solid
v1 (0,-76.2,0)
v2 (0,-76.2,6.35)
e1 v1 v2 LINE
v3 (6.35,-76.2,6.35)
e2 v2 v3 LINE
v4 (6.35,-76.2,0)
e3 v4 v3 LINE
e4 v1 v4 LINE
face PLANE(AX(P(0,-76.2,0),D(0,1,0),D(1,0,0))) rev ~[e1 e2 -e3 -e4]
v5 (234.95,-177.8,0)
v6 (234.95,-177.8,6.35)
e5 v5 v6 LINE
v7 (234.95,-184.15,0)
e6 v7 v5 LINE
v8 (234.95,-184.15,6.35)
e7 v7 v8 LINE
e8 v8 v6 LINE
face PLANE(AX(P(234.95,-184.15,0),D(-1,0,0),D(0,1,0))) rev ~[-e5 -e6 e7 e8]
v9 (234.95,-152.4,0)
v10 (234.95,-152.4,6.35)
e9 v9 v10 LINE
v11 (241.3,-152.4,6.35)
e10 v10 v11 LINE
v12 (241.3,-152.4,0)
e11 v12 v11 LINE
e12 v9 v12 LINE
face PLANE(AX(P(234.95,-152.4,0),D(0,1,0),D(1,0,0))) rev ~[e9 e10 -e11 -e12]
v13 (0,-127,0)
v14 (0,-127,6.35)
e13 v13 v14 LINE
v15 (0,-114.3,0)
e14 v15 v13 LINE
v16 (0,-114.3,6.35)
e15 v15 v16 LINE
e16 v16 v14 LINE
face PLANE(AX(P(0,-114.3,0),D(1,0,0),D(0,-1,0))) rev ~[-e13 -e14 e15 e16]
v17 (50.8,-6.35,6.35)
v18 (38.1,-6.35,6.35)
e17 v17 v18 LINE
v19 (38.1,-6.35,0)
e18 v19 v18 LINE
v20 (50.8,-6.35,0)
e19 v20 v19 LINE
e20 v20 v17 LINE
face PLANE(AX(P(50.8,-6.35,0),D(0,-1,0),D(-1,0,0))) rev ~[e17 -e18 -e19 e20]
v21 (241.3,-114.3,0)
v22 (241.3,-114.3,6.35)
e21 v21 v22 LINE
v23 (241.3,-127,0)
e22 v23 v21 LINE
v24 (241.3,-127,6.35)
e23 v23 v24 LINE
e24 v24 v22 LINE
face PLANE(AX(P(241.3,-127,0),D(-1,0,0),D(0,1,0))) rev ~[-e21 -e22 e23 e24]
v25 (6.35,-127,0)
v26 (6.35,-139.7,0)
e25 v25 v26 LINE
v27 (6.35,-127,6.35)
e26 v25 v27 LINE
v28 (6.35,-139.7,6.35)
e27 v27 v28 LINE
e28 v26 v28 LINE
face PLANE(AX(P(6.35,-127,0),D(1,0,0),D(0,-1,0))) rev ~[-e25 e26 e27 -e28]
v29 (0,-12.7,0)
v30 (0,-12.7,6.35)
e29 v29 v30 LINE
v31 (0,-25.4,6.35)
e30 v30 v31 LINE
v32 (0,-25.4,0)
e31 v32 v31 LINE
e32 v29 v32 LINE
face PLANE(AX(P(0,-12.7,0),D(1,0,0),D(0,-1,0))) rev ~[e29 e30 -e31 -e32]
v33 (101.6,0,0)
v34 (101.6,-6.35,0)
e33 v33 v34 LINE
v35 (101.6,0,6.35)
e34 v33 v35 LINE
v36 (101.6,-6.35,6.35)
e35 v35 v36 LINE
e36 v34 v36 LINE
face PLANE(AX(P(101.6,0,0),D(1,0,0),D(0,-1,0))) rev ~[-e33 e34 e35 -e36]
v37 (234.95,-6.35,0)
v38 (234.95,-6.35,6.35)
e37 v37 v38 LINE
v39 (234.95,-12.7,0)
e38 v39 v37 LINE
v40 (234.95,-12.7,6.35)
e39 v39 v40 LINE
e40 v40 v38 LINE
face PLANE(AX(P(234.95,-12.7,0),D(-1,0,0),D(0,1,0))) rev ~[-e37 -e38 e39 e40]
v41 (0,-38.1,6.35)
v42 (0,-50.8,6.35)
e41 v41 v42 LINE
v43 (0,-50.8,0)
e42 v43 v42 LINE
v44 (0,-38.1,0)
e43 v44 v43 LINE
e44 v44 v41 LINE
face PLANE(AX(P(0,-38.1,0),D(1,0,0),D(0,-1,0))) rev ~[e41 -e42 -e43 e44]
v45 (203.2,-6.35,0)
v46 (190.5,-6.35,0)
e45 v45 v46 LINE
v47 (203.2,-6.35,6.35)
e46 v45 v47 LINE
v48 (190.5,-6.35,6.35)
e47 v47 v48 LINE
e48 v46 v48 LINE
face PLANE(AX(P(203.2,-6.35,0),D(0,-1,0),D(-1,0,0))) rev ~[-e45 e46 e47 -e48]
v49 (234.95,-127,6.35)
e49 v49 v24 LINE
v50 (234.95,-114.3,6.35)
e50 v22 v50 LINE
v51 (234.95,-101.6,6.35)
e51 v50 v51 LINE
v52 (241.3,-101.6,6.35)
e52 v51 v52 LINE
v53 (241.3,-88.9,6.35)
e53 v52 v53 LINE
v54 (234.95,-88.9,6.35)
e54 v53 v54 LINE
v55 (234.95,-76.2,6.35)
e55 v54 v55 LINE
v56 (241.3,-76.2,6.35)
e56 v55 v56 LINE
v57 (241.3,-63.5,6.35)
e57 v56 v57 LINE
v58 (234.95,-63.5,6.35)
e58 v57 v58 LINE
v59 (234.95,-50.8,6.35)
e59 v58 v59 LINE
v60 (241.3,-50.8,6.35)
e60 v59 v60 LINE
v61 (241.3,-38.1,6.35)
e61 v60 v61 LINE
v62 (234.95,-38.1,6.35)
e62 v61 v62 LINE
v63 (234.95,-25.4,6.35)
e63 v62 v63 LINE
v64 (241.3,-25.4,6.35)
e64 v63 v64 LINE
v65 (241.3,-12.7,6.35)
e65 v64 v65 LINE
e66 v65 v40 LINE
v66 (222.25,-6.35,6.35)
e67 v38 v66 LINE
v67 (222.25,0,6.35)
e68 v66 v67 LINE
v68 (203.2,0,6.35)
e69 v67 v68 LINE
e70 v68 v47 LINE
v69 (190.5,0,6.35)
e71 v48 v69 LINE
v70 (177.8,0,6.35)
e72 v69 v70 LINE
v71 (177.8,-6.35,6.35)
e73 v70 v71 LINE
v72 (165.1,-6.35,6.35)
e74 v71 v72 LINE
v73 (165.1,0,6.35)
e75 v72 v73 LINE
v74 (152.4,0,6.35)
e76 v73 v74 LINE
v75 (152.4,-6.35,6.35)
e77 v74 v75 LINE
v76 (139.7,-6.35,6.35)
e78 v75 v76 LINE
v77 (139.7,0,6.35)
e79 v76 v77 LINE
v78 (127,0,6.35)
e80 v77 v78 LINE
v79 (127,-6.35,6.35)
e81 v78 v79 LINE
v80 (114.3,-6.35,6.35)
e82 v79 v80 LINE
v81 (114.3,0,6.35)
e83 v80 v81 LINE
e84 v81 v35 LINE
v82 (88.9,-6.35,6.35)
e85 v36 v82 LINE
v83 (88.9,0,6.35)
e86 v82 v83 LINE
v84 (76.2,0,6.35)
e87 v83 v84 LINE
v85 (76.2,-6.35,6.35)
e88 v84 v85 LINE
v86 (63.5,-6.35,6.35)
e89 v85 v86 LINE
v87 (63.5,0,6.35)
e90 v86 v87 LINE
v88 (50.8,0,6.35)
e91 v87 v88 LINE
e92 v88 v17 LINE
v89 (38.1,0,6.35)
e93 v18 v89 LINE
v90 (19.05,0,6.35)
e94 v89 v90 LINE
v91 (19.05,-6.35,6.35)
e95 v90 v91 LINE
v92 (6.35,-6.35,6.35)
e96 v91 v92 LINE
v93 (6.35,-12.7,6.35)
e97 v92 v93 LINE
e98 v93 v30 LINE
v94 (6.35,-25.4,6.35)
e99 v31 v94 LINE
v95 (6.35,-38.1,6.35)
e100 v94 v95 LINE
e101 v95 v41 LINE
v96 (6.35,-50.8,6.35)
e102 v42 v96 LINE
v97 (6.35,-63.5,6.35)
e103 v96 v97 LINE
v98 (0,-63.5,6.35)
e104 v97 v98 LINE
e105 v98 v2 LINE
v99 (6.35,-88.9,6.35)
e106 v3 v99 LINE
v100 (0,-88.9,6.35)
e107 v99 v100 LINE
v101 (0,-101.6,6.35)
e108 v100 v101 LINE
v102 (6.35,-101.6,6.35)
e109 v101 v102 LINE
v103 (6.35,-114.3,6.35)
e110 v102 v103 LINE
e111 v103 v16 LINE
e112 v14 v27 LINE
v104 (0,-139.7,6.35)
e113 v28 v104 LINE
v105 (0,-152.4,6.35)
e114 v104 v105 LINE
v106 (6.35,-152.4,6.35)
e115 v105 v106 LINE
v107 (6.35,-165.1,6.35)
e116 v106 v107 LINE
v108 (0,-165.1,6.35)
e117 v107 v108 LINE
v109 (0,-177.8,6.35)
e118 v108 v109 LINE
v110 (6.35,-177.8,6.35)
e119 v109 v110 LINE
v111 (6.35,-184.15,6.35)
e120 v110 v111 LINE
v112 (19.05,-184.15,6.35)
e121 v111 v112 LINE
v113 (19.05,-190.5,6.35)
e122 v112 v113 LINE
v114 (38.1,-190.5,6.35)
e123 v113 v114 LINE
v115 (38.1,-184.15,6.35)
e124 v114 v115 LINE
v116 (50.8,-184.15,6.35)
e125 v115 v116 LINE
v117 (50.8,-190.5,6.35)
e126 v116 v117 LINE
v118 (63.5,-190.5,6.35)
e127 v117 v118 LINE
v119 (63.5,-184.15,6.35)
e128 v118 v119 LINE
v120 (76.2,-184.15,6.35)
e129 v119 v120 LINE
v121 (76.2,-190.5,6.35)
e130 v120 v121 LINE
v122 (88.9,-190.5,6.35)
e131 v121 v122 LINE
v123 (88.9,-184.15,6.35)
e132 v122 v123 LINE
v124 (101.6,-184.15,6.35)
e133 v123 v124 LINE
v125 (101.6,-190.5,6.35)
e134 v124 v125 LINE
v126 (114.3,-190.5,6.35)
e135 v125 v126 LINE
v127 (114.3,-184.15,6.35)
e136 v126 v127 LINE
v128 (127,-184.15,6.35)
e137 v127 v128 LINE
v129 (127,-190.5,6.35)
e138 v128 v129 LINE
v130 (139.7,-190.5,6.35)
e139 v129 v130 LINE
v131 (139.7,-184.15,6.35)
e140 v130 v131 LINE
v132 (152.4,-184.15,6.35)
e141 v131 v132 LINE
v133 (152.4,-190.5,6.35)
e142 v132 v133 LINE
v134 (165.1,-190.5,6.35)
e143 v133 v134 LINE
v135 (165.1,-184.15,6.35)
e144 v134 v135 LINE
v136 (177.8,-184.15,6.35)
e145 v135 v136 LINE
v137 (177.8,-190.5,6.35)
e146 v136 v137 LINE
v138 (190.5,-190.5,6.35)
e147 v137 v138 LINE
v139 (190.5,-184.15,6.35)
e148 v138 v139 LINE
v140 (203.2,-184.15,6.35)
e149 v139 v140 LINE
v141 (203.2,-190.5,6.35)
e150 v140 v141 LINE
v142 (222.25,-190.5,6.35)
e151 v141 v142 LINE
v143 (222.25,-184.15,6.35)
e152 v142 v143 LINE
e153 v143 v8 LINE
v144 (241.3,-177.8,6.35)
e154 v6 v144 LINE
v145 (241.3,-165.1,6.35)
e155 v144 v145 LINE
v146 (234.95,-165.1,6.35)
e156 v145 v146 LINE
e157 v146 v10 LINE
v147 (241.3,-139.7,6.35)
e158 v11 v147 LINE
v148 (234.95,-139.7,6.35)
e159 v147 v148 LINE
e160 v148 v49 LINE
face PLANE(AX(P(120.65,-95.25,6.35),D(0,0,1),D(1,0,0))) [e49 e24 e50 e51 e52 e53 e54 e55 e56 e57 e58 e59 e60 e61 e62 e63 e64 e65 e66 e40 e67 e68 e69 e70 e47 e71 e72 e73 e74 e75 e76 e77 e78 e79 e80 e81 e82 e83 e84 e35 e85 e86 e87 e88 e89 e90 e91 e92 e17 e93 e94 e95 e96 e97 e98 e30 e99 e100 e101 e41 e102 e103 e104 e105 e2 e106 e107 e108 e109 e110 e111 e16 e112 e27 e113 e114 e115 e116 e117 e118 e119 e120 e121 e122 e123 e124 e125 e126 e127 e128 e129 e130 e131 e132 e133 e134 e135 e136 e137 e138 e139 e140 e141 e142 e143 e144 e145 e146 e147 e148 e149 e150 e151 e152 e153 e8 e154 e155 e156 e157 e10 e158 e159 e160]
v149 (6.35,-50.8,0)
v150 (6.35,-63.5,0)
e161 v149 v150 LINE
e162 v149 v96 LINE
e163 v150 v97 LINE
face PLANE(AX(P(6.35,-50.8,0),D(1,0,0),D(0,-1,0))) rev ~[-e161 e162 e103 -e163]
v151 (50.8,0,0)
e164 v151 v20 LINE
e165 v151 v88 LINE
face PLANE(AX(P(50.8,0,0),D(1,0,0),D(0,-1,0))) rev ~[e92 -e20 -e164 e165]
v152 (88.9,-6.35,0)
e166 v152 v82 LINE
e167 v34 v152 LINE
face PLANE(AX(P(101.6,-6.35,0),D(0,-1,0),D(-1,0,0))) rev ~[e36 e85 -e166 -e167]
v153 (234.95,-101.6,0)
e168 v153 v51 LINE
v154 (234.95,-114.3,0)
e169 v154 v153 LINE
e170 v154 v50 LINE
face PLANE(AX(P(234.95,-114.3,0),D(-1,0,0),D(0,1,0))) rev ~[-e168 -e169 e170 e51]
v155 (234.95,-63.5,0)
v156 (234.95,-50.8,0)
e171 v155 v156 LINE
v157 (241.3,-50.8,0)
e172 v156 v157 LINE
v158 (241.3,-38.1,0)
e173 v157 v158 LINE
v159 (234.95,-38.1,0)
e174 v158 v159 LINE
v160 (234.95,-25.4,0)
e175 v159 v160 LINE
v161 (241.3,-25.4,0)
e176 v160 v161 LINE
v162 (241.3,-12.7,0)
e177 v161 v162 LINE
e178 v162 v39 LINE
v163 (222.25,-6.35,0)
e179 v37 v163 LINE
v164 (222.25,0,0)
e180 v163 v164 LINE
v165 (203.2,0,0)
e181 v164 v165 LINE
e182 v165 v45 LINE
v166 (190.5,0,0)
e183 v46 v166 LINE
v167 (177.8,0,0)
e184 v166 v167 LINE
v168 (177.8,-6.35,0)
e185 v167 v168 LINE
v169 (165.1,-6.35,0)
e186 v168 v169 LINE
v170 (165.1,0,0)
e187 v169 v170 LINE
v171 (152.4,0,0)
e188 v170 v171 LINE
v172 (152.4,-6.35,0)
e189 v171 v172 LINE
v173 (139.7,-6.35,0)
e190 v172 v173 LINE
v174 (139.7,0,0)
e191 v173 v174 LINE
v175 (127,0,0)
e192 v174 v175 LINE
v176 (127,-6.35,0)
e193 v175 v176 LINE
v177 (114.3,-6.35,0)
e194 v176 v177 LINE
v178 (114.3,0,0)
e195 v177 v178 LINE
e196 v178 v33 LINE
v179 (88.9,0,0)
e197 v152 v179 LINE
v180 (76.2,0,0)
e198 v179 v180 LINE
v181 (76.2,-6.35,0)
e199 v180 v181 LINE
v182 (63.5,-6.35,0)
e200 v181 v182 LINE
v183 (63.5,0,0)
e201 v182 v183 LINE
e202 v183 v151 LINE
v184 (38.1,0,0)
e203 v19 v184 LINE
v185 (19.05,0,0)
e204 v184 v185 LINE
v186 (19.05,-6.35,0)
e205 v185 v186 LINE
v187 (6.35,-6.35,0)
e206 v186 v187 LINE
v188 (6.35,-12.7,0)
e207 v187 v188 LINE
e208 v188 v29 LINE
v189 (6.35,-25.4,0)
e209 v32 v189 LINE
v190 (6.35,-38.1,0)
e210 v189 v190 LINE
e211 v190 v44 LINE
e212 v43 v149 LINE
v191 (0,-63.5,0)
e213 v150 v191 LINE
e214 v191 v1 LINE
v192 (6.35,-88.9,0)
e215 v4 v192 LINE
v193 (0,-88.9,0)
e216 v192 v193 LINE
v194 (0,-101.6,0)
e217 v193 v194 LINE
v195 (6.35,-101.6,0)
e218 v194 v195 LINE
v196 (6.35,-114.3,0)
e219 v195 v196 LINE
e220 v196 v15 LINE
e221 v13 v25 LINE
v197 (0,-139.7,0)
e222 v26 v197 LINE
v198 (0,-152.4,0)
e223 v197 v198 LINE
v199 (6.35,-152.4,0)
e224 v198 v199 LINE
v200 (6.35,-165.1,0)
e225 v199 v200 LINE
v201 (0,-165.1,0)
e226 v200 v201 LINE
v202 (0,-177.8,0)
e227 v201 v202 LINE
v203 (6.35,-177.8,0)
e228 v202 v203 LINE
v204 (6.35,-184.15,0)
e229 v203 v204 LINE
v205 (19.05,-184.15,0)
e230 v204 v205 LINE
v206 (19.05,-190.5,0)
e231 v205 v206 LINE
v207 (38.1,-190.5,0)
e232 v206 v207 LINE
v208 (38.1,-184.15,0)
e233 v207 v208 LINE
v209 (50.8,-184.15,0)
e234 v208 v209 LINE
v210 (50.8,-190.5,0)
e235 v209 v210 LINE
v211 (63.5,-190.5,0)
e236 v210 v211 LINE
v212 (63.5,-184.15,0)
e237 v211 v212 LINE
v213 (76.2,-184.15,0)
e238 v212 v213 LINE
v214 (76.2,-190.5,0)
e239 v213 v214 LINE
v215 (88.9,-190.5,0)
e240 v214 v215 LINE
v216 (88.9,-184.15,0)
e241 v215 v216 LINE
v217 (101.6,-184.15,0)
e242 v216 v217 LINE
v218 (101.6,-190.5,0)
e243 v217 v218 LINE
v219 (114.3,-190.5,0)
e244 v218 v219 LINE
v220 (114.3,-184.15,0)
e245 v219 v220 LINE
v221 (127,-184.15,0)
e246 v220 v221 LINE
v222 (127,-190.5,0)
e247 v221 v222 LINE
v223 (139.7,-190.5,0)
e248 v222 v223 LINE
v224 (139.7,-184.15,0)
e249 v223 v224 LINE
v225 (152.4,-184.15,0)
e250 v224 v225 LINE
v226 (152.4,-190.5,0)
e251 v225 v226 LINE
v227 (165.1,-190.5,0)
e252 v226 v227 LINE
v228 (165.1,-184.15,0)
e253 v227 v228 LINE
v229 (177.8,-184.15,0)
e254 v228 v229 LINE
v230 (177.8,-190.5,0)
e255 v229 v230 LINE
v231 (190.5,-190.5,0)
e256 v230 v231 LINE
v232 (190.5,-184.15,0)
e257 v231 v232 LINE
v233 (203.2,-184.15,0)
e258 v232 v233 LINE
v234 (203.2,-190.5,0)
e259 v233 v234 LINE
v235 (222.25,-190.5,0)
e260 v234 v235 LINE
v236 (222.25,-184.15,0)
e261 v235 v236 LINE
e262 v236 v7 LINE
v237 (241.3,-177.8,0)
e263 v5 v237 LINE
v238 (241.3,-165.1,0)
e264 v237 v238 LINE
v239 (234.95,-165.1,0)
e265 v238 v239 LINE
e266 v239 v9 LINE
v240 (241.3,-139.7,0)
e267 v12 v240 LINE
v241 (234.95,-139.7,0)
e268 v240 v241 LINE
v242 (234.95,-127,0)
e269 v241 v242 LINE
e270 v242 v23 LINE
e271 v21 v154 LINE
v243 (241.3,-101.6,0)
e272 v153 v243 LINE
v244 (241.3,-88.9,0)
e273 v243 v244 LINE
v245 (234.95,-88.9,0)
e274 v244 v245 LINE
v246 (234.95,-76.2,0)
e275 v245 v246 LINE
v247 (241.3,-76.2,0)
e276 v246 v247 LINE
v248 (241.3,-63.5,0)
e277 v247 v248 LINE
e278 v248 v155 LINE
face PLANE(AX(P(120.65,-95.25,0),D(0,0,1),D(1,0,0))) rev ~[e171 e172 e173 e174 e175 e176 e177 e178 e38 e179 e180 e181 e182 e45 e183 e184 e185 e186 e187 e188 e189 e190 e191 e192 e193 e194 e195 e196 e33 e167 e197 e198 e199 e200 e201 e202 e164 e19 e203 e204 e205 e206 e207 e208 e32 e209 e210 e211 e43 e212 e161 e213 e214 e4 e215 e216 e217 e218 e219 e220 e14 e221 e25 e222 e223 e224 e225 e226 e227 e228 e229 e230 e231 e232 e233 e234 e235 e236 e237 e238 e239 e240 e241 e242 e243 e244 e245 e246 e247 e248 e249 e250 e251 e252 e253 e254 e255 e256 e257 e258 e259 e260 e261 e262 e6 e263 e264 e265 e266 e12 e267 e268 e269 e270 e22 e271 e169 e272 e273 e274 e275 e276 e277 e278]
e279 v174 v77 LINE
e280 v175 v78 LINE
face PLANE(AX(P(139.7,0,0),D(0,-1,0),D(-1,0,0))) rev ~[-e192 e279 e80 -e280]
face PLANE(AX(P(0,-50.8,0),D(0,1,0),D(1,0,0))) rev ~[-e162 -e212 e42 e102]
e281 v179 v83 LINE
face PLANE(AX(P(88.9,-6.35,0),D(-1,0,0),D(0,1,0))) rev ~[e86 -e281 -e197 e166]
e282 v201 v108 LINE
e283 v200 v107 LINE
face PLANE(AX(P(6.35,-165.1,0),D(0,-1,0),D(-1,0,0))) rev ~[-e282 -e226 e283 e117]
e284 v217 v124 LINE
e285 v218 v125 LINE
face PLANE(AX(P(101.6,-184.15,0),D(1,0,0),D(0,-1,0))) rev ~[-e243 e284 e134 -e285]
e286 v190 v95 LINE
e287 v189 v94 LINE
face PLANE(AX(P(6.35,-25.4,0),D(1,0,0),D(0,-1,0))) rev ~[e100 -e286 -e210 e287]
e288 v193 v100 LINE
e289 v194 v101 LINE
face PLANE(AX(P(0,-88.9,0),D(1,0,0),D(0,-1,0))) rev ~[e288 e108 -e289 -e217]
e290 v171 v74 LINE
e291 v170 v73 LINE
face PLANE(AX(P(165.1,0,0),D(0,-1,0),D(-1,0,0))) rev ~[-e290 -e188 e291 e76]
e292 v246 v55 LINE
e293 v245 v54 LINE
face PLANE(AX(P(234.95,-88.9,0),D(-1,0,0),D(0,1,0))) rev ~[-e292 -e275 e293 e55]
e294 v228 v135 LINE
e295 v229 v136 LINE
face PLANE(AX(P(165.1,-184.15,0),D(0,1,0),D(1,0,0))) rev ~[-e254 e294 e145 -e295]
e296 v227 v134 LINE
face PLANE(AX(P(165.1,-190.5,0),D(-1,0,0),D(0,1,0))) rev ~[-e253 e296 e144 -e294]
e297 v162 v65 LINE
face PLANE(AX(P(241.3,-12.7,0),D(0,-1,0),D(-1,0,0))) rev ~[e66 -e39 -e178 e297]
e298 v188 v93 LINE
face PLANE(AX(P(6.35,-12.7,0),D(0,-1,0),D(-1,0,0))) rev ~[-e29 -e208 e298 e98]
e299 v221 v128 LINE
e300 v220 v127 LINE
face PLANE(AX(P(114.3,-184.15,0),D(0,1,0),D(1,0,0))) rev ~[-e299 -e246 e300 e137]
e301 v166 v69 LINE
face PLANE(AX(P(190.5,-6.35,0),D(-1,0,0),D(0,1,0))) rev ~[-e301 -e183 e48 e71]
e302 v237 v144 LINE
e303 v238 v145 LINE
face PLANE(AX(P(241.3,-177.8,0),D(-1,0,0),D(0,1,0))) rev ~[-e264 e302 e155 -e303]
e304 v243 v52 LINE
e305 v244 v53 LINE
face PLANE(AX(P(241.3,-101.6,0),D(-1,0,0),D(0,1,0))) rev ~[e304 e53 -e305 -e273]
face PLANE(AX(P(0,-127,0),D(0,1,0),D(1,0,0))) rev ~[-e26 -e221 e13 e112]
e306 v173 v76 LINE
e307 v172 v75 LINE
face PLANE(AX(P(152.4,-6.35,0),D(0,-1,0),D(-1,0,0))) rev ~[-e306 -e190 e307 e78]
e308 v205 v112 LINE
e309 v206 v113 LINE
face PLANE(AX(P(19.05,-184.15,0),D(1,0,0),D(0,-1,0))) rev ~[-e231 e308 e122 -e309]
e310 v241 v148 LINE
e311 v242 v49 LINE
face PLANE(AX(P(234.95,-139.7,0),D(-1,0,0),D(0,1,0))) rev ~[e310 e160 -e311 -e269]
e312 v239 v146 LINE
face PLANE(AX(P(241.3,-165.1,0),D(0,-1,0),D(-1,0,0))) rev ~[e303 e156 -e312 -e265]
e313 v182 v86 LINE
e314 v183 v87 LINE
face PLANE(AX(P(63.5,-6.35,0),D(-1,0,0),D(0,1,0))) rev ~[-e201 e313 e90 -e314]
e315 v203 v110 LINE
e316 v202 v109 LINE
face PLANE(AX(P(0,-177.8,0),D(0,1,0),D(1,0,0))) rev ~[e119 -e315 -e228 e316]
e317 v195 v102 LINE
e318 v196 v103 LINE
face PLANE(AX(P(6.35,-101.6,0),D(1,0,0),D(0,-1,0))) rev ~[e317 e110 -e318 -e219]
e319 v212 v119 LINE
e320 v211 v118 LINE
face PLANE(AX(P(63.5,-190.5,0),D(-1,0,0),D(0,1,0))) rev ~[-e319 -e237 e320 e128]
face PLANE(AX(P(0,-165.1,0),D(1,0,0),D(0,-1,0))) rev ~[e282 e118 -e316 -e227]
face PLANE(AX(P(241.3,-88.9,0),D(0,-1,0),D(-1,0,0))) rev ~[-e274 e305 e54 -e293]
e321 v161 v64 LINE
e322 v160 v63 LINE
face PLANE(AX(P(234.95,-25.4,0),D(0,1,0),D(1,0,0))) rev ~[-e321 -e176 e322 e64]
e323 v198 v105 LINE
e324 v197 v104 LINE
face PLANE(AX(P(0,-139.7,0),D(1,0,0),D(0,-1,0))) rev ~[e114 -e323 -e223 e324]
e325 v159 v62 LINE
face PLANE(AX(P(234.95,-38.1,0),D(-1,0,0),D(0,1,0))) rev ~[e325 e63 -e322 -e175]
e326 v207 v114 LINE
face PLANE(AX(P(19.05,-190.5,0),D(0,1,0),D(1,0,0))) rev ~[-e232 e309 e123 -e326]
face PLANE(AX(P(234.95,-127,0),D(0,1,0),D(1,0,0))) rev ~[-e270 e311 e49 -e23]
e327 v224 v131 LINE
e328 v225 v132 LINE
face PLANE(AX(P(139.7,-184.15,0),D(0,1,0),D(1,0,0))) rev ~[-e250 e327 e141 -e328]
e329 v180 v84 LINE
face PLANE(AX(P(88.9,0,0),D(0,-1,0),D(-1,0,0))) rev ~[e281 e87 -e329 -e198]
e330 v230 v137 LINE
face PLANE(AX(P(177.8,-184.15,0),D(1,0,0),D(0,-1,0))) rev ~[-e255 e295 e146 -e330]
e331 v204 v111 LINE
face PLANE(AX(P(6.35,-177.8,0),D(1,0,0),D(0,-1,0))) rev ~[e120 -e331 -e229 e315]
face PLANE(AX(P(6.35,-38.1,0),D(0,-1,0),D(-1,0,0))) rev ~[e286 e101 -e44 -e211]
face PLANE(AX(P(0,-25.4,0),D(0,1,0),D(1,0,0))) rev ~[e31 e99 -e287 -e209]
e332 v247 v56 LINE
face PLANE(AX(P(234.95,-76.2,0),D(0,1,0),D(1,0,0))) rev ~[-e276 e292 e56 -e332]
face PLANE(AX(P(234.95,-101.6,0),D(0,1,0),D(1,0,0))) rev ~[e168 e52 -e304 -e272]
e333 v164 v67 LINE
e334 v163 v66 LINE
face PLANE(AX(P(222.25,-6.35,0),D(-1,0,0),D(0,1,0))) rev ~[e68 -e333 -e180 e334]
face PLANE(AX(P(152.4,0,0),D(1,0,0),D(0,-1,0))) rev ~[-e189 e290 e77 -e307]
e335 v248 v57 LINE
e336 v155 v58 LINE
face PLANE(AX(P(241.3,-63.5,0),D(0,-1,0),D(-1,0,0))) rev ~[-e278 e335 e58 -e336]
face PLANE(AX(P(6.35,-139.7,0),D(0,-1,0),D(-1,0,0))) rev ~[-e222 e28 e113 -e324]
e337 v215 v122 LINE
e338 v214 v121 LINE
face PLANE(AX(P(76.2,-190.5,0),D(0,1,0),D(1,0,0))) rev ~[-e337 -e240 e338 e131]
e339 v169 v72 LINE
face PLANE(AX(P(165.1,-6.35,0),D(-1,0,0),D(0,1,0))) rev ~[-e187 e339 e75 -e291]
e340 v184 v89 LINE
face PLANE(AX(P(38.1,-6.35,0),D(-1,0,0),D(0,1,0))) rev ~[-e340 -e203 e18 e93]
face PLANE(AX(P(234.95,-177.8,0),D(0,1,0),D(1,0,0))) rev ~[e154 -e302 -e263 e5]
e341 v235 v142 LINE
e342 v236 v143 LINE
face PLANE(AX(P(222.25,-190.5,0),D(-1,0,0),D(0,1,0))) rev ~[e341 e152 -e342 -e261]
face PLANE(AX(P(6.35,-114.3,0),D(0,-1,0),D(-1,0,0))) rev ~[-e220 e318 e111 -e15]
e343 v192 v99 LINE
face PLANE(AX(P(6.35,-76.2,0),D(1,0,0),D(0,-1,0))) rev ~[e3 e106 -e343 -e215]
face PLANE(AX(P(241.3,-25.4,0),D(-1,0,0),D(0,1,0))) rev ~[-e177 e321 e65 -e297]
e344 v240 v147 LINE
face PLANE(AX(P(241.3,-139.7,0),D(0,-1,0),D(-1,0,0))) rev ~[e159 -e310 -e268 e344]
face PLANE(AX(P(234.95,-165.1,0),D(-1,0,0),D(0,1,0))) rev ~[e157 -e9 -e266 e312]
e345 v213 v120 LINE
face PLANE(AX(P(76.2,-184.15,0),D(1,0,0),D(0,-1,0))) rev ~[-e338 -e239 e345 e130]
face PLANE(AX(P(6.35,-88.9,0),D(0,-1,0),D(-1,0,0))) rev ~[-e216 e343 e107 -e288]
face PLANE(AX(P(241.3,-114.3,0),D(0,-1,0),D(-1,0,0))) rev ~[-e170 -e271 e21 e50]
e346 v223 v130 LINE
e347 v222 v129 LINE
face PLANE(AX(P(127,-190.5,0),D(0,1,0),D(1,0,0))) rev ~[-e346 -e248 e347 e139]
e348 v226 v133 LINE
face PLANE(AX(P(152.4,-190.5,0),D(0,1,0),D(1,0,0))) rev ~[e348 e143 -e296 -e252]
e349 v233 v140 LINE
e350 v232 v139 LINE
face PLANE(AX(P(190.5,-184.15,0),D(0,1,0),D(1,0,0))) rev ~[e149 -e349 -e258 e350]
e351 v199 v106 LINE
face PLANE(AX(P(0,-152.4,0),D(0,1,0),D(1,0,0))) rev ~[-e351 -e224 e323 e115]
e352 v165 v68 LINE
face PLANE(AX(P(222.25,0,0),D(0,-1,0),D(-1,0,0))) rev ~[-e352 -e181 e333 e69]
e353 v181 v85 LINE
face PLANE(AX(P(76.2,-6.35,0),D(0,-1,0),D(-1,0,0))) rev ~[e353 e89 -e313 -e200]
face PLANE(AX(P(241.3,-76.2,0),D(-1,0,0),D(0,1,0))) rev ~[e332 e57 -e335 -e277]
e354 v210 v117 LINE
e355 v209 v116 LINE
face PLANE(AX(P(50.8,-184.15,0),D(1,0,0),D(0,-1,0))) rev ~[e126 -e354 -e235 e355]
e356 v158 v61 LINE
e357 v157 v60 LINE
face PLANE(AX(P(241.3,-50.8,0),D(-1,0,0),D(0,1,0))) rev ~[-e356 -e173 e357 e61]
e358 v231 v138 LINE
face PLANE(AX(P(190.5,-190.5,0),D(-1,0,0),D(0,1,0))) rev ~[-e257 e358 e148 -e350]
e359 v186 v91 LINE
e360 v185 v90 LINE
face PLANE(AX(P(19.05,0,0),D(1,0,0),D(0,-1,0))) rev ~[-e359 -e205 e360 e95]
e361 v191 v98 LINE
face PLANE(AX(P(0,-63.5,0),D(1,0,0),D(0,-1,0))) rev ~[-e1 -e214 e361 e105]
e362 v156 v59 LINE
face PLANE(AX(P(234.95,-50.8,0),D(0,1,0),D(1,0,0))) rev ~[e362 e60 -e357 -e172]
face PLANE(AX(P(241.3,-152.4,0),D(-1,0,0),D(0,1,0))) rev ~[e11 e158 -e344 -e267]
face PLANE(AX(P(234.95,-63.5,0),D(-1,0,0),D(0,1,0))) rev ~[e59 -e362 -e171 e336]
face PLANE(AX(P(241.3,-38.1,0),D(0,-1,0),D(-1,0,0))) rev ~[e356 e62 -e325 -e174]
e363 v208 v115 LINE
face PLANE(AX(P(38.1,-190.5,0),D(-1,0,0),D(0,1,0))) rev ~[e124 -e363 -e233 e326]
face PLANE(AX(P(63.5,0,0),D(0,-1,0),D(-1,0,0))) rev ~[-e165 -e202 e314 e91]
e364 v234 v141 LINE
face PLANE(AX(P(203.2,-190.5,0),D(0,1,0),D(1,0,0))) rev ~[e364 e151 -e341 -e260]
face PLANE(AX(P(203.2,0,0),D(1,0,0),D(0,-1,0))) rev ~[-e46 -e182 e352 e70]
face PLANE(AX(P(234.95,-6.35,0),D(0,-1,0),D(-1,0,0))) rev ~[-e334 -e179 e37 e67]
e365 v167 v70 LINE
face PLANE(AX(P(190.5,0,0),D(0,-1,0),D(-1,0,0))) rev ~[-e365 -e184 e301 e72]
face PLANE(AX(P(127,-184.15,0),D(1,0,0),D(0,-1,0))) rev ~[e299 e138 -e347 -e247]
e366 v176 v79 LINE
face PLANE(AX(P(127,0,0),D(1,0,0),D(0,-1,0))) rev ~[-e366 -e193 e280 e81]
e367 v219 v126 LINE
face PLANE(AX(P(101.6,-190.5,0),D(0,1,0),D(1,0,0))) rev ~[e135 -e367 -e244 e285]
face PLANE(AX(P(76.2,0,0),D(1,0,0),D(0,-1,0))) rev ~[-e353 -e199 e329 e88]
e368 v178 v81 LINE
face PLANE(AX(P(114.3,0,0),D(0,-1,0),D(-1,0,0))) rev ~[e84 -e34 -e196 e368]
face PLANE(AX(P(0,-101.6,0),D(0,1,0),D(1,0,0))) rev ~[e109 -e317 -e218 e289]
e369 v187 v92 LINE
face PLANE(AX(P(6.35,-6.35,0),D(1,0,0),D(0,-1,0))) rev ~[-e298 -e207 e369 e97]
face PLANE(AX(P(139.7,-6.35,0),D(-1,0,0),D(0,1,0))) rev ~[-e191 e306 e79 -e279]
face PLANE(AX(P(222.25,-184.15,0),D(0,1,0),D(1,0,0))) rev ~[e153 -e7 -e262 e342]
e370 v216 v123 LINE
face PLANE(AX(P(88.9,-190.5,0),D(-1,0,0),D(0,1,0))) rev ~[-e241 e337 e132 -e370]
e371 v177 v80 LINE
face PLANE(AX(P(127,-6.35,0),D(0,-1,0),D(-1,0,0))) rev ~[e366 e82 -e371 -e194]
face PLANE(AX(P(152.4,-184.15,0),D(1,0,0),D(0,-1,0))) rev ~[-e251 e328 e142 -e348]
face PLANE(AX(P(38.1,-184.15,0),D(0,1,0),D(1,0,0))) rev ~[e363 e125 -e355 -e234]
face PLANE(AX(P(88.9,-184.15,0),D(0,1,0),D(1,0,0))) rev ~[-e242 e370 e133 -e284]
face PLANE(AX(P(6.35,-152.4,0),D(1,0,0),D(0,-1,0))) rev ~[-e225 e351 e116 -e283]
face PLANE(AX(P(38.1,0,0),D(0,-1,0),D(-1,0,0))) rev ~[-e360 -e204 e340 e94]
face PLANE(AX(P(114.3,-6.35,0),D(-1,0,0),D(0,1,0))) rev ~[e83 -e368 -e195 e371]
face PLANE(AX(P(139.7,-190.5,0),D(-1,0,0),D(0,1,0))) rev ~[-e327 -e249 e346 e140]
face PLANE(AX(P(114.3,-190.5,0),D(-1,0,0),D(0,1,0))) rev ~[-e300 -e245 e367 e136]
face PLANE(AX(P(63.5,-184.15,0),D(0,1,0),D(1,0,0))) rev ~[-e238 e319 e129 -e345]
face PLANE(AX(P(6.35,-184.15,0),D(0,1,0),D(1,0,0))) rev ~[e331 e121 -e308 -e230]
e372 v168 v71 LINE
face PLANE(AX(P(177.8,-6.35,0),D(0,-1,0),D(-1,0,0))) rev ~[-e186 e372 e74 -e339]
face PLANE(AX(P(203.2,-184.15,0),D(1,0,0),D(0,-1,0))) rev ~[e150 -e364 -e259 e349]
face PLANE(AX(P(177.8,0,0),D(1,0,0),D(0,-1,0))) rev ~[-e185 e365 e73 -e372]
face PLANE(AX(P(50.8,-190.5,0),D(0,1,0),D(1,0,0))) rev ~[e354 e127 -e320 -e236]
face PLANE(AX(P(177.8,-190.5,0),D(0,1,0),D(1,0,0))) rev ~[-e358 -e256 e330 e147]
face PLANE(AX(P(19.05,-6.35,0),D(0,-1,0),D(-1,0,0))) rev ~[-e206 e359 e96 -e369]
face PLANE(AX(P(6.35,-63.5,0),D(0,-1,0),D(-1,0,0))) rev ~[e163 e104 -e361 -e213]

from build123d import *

# Parameters (mm, degrees)
F1_DEPTH = 6.35


with BuildPart() as f1:
    # F0 (on Top) → F1 (new body)
    with BuildSketch(Plane.XY):
        Polygon((38.1, 0), (19.05, 0), (19.05, -6.35), (6.35, -6.35), (6.35, -12.7), (0, -12.7), (0, -25.4), (6.35, -25.4), (6.35, -38.1), (0, -38.1), (0, -50.8), (6.35, -50.8), (6.35, -63.5), (0, -63.5), (0, -76.2), (6.35, -76.2), (6.35, -88.9), (0, -88.9), (0, -101.6), (6.35, -101.6), (6.35, -114.3), (0, -114.3), (0, -127), (6.35, -127), (6.35, -139.7), (0, -139.7), (0, -152.4), (6.35, -152.4), (6.35, -165.1), (0, -165.1), (0, -177.8), (6.35, -177.8), (6.35, -184.15), (19.05, -184.15), (19.05, -190.5), (38.1, -190.5), (38.1, -184.15), (50.8, -184.15), (50.8, -190.5), (63.5, -190.5), (63.5, -184.15), (76.2, -184.15), (76.2, -190.5), (88.9, -190.5), (88.9, -184.15), (101.6, -184.15), (101.6, -190.5), (114.3, -190.5), (114.3, -184.15), (127, -184.15), (127, -190.5), (139.7, -190.5), (139.7, -184.15), (152.4, -184.15), (152.4, -190.5), (165.1, -190.5), (165.1, -184.15), (177.8, -184.15), (177.8, -190.5), (190.5, -190.5), (190.5, -184.15), (203.2, -184.15), (203.2, -190.5), (222.25, -190.5), (222.25, -184.15), (234.95, -184.15), (234.95, -177.8), (241.3, -177.8), (241.3, -165.1), (234.95, -165.1), (234.95, -152.4), (241.3, -152.4), (241.3, -139.7), (234.95, -139.7), (234.95, -127), (241.3, -127), (241.3, -114.3), (234.95, -114.3), (234.95, -101.6), (241.3, -101.6), (241.3, -88.9), (234.95, -88.9), (234.95, -76.2), (241.3, -76.2), (241.3, -63.5), (234.95, -63.5), (234.95, -50.8), (241.3, -50.8), (241.3, -38.1), (234.95, -38.1), (234.95, -25.4), (241.3, -25.4), (241.3, -12.7), (234.95, -12.7), (234.95, -6.35), (222.25, -6.35), (222.25, 0), (203.2, 0), (203.2, -6.35), (190.5, -6.35), (190.5, 0), (177.8, 0), (177.8, -6.35), (165.1, -6.35), (165.1, 0), (152.4, 0), (152.4, -6.35), (139.7, -6.35), (139.7, 0), (127, 0), (127, -6.35), (114.3, -6.35), (114.3, 0), (101.6, 0), (101.6, -6.35), (88.9, -6.35), (88.9, 0), (76.2, 0), (76.2, -6.35), (63.5, -6.35), (63.5, 0), (50.8, 0), (50.8, -6.35), (38.1, -6.35), align=None)
    extrude(amount=F1_DEPTH)


solid = f1.part
